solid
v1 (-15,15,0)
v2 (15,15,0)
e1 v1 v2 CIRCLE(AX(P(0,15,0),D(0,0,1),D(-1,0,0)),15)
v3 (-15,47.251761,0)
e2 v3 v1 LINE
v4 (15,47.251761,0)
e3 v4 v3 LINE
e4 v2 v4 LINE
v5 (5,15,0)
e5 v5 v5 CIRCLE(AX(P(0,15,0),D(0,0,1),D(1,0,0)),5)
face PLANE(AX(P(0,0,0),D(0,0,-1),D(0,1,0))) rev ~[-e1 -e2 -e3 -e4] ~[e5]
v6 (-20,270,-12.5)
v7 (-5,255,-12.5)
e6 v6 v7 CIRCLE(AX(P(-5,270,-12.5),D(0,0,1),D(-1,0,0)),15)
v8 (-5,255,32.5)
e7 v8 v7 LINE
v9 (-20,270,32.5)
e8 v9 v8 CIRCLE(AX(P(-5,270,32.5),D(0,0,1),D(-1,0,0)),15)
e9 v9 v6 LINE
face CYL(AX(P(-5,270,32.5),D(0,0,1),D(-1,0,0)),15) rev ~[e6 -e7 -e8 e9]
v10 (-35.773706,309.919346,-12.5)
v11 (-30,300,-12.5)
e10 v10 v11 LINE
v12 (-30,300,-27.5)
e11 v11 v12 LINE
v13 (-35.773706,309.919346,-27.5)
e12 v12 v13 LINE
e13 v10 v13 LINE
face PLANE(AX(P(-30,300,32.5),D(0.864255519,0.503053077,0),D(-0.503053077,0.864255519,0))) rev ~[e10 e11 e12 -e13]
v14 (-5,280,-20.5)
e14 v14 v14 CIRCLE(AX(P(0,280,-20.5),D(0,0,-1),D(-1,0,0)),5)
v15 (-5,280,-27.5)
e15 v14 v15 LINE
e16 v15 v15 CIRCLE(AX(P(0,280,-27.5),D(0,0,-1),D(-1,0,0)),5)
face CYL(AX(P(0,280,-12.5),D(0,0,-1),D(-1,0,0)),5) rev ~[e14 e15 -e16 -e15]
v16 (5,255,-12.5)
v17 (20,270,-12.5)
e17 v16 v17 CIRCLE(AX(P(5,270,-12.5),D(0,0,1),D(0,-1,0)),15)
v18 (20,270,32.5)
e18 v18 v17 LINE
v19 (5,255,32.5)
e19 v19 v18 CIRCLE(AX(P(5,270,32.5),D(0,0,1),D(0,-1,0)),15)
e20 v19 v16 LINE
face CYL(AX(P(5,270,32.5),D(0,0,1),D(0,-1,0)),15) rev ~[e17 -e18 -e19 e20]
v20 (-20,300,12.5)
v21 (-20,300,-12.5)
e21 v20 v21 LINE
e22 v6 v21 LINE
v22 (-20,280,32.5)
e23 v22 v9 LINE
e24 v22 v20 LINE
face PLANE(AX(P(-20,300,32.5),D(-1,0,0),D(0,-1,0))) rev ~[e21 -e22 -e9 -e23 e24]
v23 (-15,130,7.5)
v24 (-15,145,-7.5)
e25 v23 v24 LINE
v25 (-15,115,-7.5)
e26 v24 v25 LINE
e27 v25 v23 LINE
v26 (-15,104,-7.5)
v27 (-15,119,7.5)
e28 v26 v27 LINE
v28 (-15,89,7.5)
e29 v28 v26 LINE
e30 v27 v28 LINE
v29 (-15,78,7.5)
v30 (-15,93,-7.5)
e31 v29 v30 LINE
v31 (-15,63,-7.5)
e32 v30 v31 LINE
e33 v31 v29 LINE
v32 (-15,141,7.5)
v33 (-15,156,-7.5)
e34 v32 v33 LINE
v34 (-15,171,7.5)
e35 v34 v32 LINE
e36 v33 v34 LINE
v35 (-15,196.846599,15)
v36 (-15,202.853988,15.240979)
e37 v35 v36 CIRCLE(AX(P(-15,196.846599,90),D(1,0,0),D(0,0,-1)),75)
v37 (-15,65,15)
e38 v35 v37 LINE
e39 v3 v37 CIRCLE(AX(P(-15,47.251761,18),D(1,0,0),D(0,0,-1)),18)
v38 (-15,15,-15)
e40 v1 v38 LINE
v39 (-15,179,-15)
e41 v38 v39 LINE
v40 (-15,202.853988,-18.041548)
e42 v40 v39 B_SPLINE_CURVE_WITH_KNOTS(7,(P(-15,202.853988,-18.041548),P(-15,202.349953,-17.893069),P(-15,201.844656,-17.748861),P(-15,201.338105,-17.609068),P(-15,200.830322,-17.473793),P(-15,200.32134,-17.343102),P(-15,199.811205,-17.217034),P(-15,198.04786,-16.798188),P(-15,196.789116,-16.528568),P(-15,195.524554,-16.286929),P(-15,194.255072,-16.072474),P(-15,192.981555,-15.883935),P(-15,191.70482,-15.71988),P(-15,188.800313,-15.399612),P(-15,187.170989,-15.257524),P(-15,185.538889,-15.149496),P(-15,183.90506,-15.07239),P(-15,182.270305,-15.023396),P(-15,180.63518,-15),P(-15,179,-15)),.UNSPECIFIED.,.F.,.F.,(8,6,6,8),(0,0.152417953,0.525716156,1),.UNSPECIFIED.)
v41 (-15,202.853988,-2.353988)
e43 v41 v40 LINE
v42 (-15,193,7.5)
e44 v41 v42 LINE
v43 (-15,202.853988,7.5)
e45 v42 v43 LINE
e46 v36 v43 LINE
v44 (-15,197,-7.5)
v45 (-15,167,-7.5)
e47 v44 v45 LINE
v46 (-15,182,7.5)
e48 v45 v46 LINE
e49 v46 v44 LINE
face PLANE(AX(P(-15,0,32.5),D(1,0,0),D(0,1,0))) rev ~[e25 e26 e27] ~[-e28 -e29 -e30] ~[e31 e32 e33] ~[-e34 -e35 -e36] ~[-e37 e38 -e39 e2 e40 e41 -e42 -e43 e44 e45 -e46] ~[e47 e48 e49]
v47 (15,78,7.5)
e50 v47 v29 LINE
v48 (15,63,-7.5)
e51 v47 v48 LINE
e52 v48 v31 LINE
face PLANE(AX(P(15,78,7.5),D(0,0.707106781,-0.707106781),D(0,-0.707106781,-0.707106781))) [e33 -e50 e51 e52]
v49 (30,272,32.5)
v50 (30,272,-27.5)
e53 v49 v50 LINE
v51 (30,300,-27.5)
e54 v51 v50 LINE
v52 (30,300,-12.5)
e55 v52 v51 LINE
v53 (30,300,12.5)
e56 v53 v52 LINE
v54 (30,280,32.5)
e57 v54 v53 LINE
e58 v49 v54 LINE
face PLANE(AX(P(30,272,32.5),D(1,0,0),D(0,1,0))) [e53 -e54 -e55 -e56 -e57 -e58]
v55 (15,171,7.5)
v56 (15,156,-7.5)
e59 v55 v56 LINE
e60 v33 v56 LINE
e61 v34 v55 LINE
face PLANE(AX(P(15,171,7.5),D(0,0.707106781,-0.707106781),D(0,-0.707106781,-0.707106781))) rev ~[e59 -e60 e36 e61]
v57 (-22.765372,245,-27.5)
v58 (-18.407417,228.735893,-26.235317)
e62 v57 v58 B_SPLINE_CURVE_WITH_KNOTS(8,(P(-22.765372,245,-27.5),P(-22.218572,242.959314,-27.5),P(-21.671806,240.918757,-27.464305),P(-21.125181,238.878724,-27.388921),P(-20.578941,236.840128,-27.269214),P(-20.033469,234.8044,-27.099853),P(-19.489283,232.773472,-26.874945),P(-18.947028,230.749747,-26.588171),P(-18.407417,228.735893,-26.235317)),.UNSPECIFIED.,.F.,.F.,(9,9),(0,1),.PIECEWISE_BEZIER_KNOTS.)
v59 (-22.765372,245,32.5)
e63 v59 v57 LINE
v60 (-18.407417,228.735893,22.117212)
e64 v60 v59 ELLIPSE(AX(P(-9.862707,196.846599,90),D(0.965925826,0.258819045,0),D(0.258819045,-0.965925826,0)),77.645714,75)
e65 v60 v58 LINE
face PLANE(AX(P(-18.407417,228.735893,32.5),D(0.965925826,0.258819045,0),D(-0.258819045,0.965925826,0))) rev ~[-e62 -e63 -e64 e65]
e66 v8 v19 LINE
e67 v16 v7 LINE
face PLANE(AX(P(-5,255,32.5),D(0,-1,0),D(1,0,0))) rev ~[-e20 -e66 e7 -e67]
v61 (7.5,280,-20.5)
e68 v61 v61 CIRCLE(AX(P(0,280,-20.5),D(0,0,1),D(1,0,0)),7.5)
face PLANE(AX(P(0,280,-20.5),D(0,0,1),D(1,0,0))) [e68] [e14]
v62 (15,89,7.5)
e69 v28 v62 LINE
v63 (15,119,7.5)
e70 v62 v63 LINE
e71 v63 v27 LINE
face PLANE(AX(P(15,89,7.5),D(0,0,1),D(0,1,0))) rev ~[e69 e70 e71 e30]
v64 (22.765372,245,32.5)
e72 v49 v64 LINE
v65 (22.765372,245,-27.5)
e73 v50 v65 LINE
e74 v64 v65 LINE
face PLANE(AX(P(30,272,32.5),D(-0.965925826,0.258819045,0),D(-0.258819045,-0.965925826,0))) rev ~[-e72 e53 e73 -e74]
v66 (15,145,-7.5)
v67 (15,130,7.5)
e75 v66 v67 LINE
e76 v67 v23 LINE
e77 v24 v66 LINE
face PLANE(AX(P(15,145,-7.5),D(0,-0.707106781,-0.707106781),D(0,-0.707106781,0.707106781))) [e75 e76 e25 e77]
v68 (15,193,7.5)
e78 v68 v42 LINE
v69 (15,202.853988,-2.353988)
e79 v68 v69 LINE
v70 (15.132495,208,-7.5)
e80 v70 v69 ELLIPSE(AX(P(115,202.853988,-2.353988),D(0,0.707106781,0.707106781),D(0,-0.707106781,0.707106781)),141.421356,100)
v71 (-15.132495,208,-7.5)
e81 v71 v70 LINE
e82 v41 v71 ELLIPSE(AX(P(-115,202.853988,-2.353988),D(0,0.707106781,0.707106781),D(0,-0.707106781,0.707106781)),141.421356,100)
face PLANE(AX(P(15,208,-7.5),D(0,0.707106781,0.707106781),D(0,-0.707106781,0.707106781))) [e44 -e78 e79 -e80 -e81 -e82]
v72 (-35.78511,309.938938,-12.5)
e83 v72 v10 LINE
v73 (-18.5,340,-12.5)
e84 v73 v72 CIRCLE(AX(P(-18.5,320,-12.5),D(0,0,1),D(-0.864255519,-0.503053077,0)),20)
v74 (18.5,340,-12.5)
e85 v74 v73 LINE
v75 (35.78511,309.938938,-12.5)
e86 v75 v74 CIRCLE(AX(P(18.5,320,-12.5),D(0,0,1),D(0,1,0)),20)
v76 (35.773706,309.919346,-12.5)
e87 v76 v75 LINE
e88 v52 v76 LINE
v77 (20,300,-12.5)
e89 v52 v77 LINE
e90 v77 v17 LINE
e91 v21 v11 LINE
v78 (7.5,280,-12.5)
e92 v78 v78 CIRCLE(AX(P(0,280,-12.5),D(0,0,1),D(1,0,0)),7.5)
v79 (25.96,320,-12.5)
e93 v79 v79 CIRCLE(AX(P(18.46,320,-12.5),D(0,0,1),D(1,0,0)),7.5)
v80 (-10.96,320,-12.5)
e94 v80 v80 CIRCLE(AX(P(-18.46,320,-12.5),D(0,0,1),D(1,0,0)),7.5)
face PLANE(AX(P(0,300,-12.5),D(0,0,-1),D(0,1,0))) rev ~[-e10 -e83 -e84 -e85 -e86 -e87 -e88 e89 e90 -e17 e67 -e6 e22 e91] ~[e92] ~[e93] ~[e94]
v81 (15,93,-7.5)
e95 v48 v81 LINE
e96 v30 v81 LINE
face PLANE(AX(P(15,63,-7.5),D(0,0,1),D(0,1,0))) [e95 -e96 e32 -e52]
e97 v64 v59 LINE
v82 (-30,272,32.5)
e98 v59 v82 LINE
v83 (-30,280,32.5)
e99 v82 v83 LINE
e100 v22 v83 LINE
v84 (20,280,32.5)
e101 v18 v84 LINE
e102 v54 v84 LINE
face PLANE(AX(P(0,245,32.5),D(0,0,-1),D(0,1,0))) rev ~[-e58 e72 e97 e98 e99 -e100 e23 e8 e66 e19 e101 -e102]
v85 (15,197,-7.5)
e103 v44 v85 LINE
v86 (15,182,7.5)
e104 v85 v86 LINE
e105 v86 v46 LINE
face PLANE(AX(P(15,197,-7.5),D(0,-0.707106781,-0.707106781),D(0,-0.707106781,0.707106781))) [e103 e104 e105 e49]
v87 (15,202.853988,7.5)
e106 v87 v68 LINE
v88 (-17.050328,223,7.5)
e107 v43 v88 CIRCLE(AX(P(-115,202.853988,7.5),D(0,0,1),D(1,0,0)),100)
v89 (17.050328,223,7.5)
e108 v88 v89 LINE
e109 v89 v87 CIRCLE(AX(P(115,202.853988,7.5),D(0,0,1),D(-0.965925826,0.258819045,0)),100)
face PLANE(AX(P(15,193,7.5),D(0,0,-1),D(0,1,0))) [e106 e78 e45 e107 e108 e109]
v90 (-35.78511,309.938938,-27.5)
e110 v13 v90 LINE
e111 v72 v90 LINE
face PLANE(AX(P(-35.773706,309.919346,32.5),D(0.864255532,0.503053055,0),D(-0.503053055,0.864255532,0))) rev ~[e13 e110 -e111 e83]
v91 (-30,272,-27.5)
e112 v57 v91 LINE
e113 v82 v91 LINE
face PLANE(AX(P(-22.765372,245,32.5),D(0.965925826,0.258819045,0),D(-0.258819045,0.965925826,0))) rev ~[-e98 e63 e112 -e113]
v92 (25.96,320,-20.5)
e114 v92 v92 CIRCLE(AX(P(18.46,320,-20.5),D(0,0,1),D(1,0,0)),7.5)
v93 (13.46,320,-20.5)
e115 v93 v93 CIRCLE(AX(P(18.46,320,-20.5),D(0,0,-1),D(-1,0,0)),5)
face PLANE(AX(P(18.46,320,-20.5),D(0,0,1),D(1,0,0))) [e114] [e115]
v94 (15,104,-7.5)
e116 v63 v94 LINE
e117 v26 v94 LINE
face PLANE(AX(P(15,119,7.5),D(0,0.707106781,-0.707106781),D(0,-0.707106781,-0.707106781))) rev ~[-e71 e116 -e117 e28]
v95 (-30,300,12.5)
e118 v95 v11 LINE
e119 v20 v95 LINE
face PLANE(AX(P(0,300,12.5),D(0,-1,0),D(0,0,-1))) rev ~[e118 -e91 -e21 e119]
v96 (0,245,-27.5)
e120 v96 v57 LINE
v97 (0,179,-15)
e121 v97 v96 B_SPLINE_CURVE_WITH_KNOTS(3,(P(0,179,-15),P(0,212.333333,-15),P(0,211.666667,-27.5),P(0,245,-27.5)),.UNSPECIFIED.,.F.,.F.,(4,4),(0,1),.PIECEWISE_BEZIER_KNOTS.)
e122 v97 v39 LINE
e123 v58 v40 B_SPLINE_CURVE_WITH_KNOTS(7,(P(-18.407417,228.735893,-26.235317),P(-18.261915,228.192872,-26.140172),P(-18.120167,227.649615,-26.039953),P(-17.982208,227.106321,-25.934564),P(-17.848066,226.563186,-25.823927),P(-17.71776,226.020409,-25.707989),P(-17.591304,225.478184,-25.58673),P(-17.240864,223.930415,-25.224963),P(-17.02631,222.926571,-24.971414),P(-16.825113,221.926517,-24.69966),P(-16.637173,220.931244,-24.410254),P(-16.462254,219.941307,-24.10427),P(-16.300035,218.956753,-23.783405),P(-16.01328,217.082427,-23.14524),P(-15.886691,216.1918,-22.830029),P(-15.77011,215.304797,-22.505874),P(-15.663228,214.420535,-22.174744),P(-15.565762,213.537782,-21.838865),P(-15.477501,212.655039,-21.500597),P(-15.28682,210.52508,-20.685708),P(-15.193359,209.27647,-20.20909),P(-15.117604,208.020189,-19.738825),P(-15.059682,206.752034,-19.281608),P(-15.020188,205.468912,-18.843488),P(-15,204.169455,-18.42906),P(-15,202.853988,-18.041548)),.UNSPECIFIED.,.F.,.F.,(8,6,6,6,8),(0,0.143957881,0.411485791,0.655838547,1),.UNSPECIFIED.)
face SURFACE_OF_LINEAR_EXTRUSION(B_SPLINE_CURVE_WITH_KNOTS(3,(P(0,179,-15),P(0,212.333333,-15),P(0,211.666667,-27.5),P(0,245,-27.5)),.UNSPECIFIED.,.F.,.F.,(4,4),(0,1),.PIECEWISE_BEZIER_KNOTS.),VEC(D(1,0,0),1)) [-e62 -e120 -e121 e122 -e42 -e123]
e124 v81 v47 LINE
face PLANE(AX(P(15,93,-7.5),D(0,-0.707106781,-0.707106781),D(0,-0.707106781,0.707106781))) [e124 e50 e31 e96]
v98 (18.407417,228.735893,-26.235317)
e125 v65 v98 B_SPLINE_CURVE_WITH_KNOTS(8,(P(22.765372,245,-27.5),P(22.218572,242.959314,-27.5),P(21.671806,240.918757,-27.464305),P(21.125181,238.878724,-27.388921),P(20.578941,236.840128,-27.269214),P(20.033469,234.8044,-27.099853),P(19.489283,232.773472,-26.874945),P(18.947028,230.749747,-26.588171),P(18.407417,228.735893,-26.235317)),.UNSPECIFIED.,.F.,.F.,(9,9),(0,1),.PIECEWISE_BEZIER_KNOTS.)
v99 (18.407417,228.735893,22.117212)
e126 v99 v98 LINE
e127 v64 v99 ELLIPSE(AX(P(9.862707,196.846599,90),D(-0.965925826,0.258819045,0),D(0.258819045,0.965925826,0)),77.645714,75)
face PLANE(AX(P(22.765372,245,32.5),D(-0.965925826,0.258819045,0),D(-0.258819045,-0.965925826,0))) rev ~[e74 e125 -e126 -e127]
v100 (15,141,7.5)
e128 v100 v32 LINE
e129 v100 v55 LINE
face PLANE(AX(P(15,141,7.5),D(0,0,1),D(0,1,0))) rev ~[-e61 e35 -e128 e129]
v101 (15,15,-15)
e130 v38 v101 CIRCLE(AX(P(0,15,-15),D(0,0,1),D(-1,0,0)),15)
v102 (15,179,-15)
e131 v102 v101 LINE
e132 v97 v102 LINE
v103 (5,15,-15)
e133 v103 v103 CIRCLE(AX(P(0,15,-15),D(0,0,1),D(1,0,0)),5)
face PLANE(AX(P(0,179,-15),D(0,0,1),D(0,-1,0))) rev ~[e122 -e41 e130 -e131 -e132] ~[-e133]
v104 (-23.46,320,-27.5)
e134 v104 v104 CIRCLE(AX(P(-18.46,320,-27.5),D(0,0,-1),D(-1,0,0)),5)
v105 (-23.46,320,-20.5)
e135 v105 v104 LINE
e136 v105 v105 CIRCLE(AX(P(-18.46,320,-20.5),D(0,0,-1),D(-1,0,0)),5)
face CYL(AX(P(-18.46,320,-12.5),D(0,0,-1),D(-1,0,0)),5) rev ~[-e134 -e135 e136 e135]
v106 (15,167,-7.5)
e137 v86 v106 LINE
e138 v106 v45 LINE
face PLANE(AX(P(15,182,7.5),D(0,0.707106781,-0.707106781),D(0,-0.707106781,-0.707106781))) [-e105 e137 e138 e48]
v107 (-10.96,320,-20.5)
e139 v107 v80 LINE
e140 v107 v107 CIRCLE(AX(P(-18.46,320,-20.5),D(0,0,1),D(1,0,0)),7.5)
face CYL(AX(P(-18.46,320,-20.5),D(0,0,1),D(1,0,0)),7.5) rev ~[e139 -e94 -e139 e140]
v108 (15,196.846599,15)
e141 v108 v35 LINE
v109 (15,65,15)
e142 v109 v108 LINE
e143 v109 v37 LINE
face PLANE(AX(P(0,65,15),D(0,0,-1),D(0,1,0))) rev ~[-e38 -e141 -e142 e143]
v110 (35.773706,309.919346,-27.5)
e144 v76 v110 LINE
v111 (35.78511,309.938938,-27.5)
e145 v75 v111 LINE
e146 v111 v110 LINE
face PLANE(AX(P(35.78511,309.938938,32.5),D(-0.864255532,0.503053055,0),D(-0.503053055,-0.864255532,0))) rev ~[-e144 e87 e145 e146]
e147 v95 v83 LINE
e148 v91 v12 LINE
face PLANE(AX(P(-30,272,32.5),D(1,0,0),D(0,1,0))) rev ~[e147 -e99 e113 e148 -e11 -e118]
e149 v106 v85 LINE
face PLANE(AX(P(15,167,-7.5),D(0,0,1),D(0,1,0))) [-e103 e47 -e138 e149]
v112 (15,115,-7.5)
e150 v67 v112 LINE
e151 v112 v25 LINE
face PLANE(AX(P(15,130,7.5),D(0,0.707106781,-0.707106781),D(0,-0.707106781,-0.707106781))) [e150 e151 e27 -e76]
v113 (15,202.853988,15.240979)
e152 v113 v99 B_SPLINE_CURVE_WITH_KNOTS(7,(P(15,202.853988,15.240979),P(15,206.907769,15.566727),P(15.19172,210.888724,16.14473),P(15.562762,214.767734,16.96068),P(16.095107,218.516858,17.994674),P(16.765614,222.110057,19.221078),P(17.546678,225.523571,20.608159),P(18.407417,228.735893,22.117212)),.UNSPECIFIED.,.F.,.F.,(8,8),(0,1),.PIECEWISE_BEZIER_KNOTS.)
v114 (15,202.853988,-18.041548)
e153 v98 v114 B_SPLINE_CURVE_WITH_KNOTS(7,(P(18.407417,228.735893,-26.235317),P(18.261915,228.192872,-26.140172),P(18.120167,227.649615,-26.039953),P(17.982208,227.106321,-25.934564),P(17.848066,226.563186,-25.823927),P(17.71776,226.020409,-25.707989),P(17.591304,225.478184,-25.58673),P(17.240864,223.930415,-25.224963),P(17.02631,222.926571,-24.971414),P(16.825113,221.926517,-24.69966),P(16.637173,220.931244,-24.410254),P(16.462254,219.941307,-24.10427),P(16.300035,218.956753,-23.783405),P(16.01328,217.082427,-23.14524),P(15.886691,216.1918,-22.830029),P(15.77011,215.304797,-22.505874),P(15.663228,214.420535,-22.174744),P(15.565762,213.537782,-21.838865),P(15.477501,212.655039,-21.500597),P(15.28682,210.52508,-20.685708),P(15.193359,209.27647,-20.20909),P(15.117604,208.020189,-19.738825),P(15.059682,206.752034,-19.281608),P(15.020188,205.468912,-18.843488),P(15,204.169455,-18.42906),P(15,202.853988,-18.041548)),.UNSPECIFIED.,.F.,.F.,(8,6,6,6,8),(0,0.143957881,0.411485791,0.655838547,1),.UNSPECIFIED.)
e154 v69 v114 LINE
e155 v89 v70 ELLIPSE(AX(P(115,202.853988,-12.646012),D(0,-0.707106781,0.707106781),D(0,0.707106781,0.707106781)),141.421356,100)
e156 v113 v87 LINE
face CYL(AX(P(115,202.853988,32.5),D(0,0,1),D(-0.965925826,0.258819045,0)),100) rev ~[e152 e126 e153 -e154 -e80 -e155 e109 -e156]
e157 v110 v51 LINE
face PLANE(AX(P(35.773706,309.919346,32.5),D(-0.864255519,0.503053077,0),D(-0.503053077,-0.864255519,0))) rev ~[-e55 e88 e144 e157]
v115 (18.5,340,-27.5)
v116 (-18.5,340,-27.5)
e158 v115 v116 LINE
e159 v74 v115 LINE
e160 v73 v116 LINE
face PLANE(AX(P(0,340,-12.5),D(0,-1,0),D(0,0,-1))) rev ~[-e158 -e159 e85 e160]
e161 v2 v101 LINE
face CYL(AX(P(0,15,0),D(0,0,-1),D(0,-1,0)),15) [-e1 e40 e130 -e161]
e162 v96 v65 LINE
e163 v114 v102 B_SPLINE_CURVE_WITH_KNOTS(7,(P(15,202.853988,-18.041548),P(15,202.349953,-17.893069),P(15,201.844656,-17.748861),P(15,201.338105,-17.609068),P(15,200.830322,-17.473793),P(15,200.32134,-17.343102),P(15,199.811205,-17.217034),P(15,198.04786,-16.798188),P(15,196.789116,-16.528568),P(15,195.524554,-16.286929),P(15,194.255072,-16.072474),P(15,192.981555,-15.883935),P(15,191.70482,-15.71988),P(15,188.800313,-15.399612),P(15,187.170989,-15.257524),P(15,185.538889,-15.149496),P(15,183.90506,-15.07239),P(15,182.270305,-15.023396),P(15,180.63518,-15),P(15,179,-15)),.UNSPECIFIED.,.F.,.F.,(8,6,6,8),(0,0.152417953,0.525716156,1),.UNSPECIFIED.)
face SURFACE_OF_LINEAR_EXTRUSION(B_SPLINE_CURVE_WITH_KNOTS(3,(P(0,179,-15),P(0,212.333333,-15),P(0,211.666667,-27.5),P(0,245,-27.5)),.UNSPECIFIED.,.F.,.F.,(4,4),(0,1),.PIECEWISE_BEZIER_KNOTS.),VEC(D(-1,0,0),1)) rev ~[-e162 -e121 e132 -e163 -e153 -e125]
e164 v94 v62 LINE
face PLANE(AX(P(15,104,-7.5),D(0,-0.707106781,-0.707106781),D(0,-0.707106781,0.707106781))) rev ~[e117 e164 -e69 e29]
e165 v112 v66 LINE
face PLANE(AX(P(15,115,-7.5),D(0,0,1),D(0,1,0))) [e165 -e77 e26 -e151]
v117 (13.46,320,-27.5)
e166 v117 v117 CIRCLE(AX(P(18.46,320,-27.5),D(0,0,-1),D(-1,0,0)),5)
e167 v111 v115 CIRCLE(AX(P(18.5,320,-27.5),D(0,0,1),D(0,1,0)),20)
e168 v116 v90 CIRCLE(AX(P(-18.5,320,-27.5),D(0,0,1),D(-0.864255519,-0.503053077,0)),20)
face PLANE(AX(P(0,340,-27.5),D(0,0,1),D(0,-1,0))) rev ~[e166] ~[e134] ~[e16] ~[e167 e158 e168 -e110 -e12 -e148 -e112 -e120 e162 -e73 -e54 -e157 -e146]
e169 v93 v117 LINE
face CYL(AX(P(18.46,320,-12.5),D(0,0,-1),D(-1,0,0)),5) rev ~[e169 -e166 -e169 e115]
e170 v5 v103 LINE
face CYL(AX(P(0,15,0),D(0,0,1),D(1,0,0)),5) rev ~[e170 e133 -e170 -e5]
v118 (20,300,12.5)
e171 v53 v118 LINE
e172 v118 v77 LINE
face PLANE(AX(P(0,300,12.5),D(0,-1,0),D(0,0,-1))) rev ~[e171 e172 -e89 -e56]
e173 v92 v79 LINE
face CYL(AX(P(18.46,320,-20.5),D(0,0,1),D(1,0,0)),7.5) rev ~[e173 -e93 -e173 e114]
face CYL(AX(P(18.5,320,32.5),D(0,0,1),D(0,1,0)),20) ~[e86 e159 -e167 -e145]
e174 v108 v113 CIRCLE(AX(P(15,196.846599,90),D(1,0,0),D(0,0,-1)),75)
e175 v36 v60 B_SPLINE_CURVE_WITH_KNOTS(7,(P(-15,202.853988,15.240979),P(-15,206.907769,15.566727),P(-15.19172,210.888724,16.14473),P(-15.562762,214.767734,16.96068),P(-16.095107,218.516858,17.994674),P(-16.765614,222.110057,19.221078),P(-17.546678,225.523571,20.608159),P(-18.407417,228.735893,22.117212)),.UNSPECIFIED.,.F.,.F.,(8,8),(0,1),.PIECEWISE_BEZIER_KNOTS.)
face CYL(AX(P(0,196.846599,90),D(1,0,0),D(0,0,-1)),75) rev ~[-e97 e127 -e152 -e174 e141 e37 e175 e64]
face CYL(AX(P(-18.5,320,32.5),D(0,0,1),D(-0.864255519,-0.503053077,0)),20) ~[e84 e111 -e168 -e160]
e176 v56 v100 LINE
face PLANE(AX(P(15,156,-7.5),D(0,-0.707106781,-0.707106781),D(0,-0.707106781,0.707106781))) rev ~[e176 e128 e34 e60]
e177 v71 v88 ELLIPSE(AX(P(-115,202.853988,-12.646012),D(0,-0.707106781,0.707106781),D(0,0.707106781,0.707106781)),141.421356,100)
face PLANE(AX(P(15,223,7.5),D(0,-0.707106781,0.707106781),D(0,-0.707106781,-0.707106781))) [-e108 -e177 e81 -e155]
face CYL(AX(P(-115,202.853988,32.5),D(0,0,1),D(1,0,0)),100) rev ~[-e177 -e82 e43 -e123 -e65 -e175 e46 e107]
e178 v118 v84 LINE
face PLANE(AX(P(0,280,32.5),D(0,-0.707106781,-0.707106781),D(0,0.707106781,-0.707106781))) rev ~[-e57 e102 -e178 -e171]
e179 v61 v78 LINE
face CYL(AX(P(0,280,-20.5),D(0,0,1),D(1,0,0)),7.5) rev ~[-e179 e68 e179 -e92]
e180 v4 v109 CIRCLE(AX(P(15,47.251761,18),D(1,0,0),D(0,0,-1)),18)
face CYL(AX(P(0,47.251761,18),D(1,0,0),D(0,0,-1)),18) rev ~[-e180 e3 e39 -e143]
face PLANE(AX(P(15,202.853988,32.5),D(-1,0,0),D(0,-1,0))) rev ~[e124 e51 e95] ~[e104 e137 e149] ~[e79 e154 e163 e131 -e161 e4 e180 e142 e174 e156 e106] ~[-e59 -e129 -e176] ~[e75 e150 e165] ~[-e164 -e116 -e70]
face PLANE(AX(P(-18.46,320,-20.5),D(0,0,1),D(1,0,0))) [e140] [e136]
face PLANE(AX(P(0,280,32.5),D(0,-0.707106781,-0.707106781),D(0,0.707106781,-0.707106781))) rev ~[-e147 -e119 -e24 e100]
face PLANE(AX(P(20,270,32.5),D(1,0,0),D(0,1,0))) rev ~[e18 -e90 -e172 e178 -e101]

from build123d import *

# Parameters (mm, degrees)
BOSS_EXTRUDE1_DEPTH                     = 40
CUT_EXTRUDE3_REACH                      = 349.563
SKETCH2_W                               = 10
SKETCH2_H                               = 8
FILLET1_RADIUS                          = 15
FILLET1_LENGTH                          = 15
SKETCH3_R                               = 5
CUT_EXTRUDE4_DEPTH                      = 15
CUT_EXTRUDE5_REACH                      = 349.394
CBORE_FOR_M5_HEX_HEAD_BOLT1_D           = 10
CBORE_FOR_M5_HEX_HEAD_BOLT1_CBORE_D     = 15
CBORE_FOR_M5_HEX_HEAD_BOLT1_CBORE_DEPTH = 8
CUT_EXTRUDE6_DEPTH                      = 40


with BuildPart() as part:
    # Sketch1 → Boss-Extrude1 (new, symmetric)
    with BuildSketch(Plane.YZ):
        with BuildLine():
            Line((0, 0), (47.251760651, 0))
            ThreePointArc((47.251760651, 0), (58.870710689, 4.252272915), (65, 15))
            Line((65, 15), (196.846599289, 15))
            ThreePointArc((196.846599289, 15), (222.463976204, 19.510639101), (245, 32.5))
            Line((245, 32.5), (280, 32.5))
            Line((280, 32.5), (300, 12.5))
            Line((300, 12.5), (300, -12.5))
            Line((300, -12.5), (340, -12.5))
            Line((340, -12.5), (340, -27.5))
            Line((340, -27.5), (245, -27.5))
            add(Edge.make_bspline(
                [(179, -15), (212.333333333, -15), (211.666666667, -27.5), (245, -27.5)],
                knots=[0, 0, 0, 0, 1, 1, 1, 1], degree=3))
            Line((179, -15), (0, -15))
            Line((0, -15), (0, 0))
        make_face()
    extrude(amount=BOSS_EXTRUDE1_DEPTH, both=True)

    # Cut-Extrude3: up to this face of the body (flat: up to its plane)
    cut_extrude3_end = Plane(part.part.faces().sort_by_distance((0, 292.5, -27.5))[0])
    # Sketch2 → Cut-Extrude3 (cut, up to the picked face)
    with BuildSketch(Plane.XY.offset(32.5), mode=Mode.PRIVATE) as cut_extrude3_sk1:
        with BuildLine():
            Line((15, 202.853988128), (15, 0))
            Line((15, 0), (40, 0))
            Line((40, 0), (40, 47.251760651))
            Line((40, 47.251760651), (40, 245))
            Line((40, 245), (22.765371804, 245))
            Line((22.765371804, 245), (18.407417371, 228.735892638))
            ThreePointArc((18.407417371, 228.735892638), (15.855513863, 215.90660735), (15, 202.853988128))
        make_face()
    cut_extrude3_tool1 = split(extrude(cut_extrude3_sk1.sketch, amount=-CUT_EXTRUDE3_REACH, mode=Mode.PRIVATE), bisect_by=cut_extrude3_end, keep=Keep.BOTH, mode=Mode.PRIVATE)
    # Sketch2 → Cut-Extrude3 (cut, up to the picked face)
    with BuildSketch(Plane.XY.offset(32.5), mode=Mode.PRIVATE) as cut_extrude3_sk2:
        with BuildLine():
            Line((-40, 0), (-15, 0))
            Line((-15, 0), (-15, 202.853988128))
            ThreePointArc((-15, 202.853988128), (-15.855513863, 215.90660735), (-18.407417371, 228.735892638))
            Line((-18.407417371, 228.735892638), (-22.765371804, 245))
            Line((-22.765371804, 245), (-40, 245))
            Line((-40, 245), (-40, 0))
        make_face()
    cut_extrude3_tool2 = split(extrude(cut_extrude3_sk2.sketch, amount=-CUT_EXTRUDE3_REACH, mode=Mode.PRIVATE), bisect_by=cut_extrude3_end, keep=Keep.BOTH, mode=Mode.PRIVATE)
    # Sketch2 → Cut-Extrude3 (cut, up to the picked face)
    with BuildSketch(Plane.XY.offset(32.5), mode=Mode.PRIVATE) as cut_extrude3_sk3:
        Polygon((30, 272), (22.765371804, 245), (40, 245), (40, 272), align=None)
    cut_extrude3_tool3 = split(extrude(cut_extrude3_sk3.sketch, amount=-CUT_EXTRUDE3_REACH, mode=Mode.PRIVATE), bisect_by=cut_extrude3_end, keep=Keep.BOTH, mode=Mode.PRIVATE)
    # Sketch2 → Cut-Extrude3 (cut, up to the picked face)
    with BuildSketch(Plane.XY.offset(32.5), mode=Mode.PRIVATE) as cut_extrude3_sk4:
        Polygon((-40, 272), (-40, 245), (-22.765371804, 245), (-30, 272), align=None)
    cut_extrude3_tool4 = split(extrude(cut_extrude3_sk4.sketch, amount=-CUT_EXTRUDE3_REACH, mode=Mode.PRIVATE), bisect_by=cut_extrude3_end, keep=Keep.BOTH, mode=Mode.PRIVATE)
    # Sketch2 → Cut-Extrude3 (cut, up to the picked face)
    with BuildSketch(Plane.XY.offset(32.5), mode=Mode.PRIVATE) as cut_extrude3_sk5:
        with BuildLine():
            Line((30, 300), (30, 280))
            Line((30, 280), (40, 280))
            Line((40, 280), (40, 340))
            Line((40, 340), (18.5, 340))
            ThreePointArc((18.5, 340), (35.838126061, 329.969422485), (35.78511038, 309.938938469))
            Line((35.78511038, 309.938938469), (35.773706219, 309.919345885))
            Line((35.773706219, 309.919345885), (30, 300))
        make_face()
    cut_extrude3_tool5 = split(extrude(cut_extrude3_sk5.sketch, amount=-CUT_EXTRUDE3_REACH, mode=Mode.PRIVATE), bisect_by=cut_extrude3_end, keep=Keep.BOTH, mode=Mode.PRIVATE)
    # Sketch2 → Cut-Extrude3 (cut, up to the picked face)
    with BuildSketch(Plane.XY.offset(32.5), mode=Mode.PRIVATE) as cut_extrude3_sk6:
        with Locations((35, 276)):
            Rectangle(SKETCH2_W, SKETCH2_H)
    cut_extrude3_tool6 = split(extrude(cut_extrude3_sk6.sketch, amount=-CUT_EXTRUDE3_REACH, mode=Mode.PRIVATE), bisect_by=cut_extrude3_end, keep=Keep.BOTH, mode=Mode.PRIVATE)
    # Sketch2 → Cut-Extrude3 (cut, up to the picked face)
    with BuildSketch(Plane.XY.offset(32.5), mode=Mode.PRIVATE) as cut_extrude3_sk7:
        with Locations((-35, 276)):
            Rectangle(SKETCH2_W, SKETCH2_H)
    cut_extrude3_tool7 = split(extrude(cut_extrude3_sk7.sketch, amount=-CUT_EXTRUDE3_REACH, mode=Mode.PRIVATE), bisect_by=cut_extrude3_end, keep=Keep.BOTH, mode=Mode.PRIVATE)
    # Sketch2 → Cut-Extrude3 (cut, up to the picked face)
    with BuildSketch(Plane.XY.offset(32.5), mode=Mode.PRIVATE) as cut_extrude3_sk8:
        with BuildLine():
            Line((-40, 340), (-40, 280))
            Line((-40, 280), (-30, 280))
            Line((-30, 280), (-30, 300))
            Line((-30, 300), (-35.773706219, 309.919345885))
            Line((-35.773706219, 309.919345885), (-35.78511038, 309.938938469))
            ThreePointArc((-35.78511038, 309.938938469), (-35.838126061, 329.969422485), (-18.5, 340))
            Line((-18.5, 340), (-40, 340))
        make_face()
    cut_extrude3_tool8 = split(extrude(cut_extrude3_sk8.sketch, amount=-CUT_EXTRUDE3_REACH, mode=Mode.PRIVATE), bisect_by=cut_extrude3_end, keep=Keep.BOTH, mode=Mode.PRIVATE)
    add(cut_extrude3_tool1.solids().sort_by(Axis((27.70054, 120.268436, 32.5), (0, 0, -1)))[0], mode=Mode.SUBTRACT)
    add(cut_extrude3_tool2.solids().sort_by(Axis((-27.70054, 120.268436, 32.5), (0, 0, -1)))[0], mode=Mode.SUBTRACT)
    add(cut_extrude3_tool3.solids().sort_by(Axis((33.031192, 257.304616, 32.5), (0, 0, -1)))[0], mode=Mode.SUBTRACT)
    add(cut_extrude3_tool4.solids().sort_by(Axis((-33.031192, 257.304616, 32.5), (0, 0, -1)))[0], mode=Mode.SUBTRACT)
    add(cut_extrude3_tool5.solids().sort_by(Axis((35.537859, 306.308968, 32.5), (0, 0, -1)))[0], mode=Mode.SUBTRACT)
    add(cut_extrude3_tool6.solids().sort_by(Axis((35, 276, 32.5), (0, 0, -1)))[0], mode=Mode.SUBTRACT)
    add(cut_extrude3_tool7.solids().sort_by(Axis((-35, 276, 32.5), (0, 0, -1)))[0], mode=Mode.SUBTRACT)
    add(cut_extrude3_tool8.solids().sort_by(Axis((-35.537859, 306.308968, 32.5), (0, 0, -1)))[0], mode=Mode.SUBTRACT)

    # Fillet1: full round fillet: the end face becomes a half cylinder, R = half its width
    fillet1_face = Plane((0, 0, -7.5), x_dir=(0, 0, -1), z_dir=(0, -1, 0))  # on the end face: x along it, z out of the body
    fillet1_slab = fillet1_face.offset(-FILLET1_RADIUS / 2) * Box(FILLET1_LENGTH, 2 * FILLET1_RADIUS, FILLET1_RADIUS, mode=Mode.PRIVATE)  # the body's end, R deep
    fillet1_round = Plane((0, 15, -7.5), x_dir=(0, -1, 0), z_dir=(0, 0, -1)) * Cylinder(FILLET1_RADIUS, FILLET1_LENGTH, mode=Mode.PRIVATE)  # its axis R under the face
    add(fillet1_slab - fillet1_round, mode=Mode.SUBTRACT)

    # Sketch3 → Cut-Extrude4 (cut)
    with BuildSketch(Plane.XY):
        with Locations((0, 15)):
            Circle(SKETCH3_R)
    extrude(amount=-CUT_EXTRUDE4_DEPTH, mode=Mode.SUBTRACT)

    # Cut-Extrude5: up to this face of the body (flat: up to its plane)
    cut_extrude5_end = Plane(part.part.faces().sort_by_distance((0, 319.72582268, -12.5))[0])
    # Sketch4 → Cut-Extrude5 (cut, up to the picked face)
    with BuildSketch(Plane.XY.offset(32.5), mode=Mode.PRIVATE) as cut_extrude5_sk1:
        with BuildLine():
            Line((-20, 300), (-20, 270))
            ThreePointArc((-20, 270), (-15.606601718, 259.393398282), (-5, 255))
            Line((-5, 255), (5, 255))
            ThreePointArc((5, 255), (15.606601718, 259.393398282), (20, 270))
            Line((20, 270), (20, 300))
            Line((20, 300), (-20, 300))
        make_face()
    cut_extrude5_tool1 = split(extrude(cut_extrude5_sk1.sketch, amount=-CUT_EXTRUDE5_REACH, mode=Mode.PRIVATE), bisect_by=cut_extrude5_end, keep=Keep.BOTH, mode=Mode.PRIVATE)
    add(cut_extrude5_tool1.solids().sort_by(Axis((0, 278.585623, 32.5), (0, 0, -1)))[0], mode=Mode.SUBTRACT)

    # CBORE for M5 Hex Head Bolt1 (through all)
    with Locations(Plane.XY.offset(-12.5)):
        with Locations((-18.46, 320), (18.46, 320), (0, 280)):
            CounterBoreHole(CBORE_FOR_M5_HEX_HEAD_BOLT1_D / 2, CBORE_FOR_M5_HEX_HEAD_BOLT1_CBORE_D / 2, CBORE_FOR_M5_HEX_HEAD_BOLT1_CBORE_DEPTH)

    # Sketch8 → Cut-Extrude6 (cut, symmetric)
    with BuildSketch(Plane.YZ.offset(15)):
        Polygon((63, -7.5), (93, -7.5), (78, 7.5), align=None)
        Polygon((89, 7.5), (119, 7.5), (104, -7.5), align=None)
        Polygon((115, -7.5), (145, -7.5), (130, 7.5), align=None)
        Polygon((156, -7.5), (141, 7.5), (171, 7.5), align=None)
        Polygon((167, -7.5), (197, -7.5), (182, 7.5), align=None)
        Polygon((208, -7.5), (193, 7.5), (223, 7.5), align=None)
    extrude(amount=CUT_EXTRUDE6_DEPTH, both=True, mode=Mode.SUBTRACT)


solid = part.part
